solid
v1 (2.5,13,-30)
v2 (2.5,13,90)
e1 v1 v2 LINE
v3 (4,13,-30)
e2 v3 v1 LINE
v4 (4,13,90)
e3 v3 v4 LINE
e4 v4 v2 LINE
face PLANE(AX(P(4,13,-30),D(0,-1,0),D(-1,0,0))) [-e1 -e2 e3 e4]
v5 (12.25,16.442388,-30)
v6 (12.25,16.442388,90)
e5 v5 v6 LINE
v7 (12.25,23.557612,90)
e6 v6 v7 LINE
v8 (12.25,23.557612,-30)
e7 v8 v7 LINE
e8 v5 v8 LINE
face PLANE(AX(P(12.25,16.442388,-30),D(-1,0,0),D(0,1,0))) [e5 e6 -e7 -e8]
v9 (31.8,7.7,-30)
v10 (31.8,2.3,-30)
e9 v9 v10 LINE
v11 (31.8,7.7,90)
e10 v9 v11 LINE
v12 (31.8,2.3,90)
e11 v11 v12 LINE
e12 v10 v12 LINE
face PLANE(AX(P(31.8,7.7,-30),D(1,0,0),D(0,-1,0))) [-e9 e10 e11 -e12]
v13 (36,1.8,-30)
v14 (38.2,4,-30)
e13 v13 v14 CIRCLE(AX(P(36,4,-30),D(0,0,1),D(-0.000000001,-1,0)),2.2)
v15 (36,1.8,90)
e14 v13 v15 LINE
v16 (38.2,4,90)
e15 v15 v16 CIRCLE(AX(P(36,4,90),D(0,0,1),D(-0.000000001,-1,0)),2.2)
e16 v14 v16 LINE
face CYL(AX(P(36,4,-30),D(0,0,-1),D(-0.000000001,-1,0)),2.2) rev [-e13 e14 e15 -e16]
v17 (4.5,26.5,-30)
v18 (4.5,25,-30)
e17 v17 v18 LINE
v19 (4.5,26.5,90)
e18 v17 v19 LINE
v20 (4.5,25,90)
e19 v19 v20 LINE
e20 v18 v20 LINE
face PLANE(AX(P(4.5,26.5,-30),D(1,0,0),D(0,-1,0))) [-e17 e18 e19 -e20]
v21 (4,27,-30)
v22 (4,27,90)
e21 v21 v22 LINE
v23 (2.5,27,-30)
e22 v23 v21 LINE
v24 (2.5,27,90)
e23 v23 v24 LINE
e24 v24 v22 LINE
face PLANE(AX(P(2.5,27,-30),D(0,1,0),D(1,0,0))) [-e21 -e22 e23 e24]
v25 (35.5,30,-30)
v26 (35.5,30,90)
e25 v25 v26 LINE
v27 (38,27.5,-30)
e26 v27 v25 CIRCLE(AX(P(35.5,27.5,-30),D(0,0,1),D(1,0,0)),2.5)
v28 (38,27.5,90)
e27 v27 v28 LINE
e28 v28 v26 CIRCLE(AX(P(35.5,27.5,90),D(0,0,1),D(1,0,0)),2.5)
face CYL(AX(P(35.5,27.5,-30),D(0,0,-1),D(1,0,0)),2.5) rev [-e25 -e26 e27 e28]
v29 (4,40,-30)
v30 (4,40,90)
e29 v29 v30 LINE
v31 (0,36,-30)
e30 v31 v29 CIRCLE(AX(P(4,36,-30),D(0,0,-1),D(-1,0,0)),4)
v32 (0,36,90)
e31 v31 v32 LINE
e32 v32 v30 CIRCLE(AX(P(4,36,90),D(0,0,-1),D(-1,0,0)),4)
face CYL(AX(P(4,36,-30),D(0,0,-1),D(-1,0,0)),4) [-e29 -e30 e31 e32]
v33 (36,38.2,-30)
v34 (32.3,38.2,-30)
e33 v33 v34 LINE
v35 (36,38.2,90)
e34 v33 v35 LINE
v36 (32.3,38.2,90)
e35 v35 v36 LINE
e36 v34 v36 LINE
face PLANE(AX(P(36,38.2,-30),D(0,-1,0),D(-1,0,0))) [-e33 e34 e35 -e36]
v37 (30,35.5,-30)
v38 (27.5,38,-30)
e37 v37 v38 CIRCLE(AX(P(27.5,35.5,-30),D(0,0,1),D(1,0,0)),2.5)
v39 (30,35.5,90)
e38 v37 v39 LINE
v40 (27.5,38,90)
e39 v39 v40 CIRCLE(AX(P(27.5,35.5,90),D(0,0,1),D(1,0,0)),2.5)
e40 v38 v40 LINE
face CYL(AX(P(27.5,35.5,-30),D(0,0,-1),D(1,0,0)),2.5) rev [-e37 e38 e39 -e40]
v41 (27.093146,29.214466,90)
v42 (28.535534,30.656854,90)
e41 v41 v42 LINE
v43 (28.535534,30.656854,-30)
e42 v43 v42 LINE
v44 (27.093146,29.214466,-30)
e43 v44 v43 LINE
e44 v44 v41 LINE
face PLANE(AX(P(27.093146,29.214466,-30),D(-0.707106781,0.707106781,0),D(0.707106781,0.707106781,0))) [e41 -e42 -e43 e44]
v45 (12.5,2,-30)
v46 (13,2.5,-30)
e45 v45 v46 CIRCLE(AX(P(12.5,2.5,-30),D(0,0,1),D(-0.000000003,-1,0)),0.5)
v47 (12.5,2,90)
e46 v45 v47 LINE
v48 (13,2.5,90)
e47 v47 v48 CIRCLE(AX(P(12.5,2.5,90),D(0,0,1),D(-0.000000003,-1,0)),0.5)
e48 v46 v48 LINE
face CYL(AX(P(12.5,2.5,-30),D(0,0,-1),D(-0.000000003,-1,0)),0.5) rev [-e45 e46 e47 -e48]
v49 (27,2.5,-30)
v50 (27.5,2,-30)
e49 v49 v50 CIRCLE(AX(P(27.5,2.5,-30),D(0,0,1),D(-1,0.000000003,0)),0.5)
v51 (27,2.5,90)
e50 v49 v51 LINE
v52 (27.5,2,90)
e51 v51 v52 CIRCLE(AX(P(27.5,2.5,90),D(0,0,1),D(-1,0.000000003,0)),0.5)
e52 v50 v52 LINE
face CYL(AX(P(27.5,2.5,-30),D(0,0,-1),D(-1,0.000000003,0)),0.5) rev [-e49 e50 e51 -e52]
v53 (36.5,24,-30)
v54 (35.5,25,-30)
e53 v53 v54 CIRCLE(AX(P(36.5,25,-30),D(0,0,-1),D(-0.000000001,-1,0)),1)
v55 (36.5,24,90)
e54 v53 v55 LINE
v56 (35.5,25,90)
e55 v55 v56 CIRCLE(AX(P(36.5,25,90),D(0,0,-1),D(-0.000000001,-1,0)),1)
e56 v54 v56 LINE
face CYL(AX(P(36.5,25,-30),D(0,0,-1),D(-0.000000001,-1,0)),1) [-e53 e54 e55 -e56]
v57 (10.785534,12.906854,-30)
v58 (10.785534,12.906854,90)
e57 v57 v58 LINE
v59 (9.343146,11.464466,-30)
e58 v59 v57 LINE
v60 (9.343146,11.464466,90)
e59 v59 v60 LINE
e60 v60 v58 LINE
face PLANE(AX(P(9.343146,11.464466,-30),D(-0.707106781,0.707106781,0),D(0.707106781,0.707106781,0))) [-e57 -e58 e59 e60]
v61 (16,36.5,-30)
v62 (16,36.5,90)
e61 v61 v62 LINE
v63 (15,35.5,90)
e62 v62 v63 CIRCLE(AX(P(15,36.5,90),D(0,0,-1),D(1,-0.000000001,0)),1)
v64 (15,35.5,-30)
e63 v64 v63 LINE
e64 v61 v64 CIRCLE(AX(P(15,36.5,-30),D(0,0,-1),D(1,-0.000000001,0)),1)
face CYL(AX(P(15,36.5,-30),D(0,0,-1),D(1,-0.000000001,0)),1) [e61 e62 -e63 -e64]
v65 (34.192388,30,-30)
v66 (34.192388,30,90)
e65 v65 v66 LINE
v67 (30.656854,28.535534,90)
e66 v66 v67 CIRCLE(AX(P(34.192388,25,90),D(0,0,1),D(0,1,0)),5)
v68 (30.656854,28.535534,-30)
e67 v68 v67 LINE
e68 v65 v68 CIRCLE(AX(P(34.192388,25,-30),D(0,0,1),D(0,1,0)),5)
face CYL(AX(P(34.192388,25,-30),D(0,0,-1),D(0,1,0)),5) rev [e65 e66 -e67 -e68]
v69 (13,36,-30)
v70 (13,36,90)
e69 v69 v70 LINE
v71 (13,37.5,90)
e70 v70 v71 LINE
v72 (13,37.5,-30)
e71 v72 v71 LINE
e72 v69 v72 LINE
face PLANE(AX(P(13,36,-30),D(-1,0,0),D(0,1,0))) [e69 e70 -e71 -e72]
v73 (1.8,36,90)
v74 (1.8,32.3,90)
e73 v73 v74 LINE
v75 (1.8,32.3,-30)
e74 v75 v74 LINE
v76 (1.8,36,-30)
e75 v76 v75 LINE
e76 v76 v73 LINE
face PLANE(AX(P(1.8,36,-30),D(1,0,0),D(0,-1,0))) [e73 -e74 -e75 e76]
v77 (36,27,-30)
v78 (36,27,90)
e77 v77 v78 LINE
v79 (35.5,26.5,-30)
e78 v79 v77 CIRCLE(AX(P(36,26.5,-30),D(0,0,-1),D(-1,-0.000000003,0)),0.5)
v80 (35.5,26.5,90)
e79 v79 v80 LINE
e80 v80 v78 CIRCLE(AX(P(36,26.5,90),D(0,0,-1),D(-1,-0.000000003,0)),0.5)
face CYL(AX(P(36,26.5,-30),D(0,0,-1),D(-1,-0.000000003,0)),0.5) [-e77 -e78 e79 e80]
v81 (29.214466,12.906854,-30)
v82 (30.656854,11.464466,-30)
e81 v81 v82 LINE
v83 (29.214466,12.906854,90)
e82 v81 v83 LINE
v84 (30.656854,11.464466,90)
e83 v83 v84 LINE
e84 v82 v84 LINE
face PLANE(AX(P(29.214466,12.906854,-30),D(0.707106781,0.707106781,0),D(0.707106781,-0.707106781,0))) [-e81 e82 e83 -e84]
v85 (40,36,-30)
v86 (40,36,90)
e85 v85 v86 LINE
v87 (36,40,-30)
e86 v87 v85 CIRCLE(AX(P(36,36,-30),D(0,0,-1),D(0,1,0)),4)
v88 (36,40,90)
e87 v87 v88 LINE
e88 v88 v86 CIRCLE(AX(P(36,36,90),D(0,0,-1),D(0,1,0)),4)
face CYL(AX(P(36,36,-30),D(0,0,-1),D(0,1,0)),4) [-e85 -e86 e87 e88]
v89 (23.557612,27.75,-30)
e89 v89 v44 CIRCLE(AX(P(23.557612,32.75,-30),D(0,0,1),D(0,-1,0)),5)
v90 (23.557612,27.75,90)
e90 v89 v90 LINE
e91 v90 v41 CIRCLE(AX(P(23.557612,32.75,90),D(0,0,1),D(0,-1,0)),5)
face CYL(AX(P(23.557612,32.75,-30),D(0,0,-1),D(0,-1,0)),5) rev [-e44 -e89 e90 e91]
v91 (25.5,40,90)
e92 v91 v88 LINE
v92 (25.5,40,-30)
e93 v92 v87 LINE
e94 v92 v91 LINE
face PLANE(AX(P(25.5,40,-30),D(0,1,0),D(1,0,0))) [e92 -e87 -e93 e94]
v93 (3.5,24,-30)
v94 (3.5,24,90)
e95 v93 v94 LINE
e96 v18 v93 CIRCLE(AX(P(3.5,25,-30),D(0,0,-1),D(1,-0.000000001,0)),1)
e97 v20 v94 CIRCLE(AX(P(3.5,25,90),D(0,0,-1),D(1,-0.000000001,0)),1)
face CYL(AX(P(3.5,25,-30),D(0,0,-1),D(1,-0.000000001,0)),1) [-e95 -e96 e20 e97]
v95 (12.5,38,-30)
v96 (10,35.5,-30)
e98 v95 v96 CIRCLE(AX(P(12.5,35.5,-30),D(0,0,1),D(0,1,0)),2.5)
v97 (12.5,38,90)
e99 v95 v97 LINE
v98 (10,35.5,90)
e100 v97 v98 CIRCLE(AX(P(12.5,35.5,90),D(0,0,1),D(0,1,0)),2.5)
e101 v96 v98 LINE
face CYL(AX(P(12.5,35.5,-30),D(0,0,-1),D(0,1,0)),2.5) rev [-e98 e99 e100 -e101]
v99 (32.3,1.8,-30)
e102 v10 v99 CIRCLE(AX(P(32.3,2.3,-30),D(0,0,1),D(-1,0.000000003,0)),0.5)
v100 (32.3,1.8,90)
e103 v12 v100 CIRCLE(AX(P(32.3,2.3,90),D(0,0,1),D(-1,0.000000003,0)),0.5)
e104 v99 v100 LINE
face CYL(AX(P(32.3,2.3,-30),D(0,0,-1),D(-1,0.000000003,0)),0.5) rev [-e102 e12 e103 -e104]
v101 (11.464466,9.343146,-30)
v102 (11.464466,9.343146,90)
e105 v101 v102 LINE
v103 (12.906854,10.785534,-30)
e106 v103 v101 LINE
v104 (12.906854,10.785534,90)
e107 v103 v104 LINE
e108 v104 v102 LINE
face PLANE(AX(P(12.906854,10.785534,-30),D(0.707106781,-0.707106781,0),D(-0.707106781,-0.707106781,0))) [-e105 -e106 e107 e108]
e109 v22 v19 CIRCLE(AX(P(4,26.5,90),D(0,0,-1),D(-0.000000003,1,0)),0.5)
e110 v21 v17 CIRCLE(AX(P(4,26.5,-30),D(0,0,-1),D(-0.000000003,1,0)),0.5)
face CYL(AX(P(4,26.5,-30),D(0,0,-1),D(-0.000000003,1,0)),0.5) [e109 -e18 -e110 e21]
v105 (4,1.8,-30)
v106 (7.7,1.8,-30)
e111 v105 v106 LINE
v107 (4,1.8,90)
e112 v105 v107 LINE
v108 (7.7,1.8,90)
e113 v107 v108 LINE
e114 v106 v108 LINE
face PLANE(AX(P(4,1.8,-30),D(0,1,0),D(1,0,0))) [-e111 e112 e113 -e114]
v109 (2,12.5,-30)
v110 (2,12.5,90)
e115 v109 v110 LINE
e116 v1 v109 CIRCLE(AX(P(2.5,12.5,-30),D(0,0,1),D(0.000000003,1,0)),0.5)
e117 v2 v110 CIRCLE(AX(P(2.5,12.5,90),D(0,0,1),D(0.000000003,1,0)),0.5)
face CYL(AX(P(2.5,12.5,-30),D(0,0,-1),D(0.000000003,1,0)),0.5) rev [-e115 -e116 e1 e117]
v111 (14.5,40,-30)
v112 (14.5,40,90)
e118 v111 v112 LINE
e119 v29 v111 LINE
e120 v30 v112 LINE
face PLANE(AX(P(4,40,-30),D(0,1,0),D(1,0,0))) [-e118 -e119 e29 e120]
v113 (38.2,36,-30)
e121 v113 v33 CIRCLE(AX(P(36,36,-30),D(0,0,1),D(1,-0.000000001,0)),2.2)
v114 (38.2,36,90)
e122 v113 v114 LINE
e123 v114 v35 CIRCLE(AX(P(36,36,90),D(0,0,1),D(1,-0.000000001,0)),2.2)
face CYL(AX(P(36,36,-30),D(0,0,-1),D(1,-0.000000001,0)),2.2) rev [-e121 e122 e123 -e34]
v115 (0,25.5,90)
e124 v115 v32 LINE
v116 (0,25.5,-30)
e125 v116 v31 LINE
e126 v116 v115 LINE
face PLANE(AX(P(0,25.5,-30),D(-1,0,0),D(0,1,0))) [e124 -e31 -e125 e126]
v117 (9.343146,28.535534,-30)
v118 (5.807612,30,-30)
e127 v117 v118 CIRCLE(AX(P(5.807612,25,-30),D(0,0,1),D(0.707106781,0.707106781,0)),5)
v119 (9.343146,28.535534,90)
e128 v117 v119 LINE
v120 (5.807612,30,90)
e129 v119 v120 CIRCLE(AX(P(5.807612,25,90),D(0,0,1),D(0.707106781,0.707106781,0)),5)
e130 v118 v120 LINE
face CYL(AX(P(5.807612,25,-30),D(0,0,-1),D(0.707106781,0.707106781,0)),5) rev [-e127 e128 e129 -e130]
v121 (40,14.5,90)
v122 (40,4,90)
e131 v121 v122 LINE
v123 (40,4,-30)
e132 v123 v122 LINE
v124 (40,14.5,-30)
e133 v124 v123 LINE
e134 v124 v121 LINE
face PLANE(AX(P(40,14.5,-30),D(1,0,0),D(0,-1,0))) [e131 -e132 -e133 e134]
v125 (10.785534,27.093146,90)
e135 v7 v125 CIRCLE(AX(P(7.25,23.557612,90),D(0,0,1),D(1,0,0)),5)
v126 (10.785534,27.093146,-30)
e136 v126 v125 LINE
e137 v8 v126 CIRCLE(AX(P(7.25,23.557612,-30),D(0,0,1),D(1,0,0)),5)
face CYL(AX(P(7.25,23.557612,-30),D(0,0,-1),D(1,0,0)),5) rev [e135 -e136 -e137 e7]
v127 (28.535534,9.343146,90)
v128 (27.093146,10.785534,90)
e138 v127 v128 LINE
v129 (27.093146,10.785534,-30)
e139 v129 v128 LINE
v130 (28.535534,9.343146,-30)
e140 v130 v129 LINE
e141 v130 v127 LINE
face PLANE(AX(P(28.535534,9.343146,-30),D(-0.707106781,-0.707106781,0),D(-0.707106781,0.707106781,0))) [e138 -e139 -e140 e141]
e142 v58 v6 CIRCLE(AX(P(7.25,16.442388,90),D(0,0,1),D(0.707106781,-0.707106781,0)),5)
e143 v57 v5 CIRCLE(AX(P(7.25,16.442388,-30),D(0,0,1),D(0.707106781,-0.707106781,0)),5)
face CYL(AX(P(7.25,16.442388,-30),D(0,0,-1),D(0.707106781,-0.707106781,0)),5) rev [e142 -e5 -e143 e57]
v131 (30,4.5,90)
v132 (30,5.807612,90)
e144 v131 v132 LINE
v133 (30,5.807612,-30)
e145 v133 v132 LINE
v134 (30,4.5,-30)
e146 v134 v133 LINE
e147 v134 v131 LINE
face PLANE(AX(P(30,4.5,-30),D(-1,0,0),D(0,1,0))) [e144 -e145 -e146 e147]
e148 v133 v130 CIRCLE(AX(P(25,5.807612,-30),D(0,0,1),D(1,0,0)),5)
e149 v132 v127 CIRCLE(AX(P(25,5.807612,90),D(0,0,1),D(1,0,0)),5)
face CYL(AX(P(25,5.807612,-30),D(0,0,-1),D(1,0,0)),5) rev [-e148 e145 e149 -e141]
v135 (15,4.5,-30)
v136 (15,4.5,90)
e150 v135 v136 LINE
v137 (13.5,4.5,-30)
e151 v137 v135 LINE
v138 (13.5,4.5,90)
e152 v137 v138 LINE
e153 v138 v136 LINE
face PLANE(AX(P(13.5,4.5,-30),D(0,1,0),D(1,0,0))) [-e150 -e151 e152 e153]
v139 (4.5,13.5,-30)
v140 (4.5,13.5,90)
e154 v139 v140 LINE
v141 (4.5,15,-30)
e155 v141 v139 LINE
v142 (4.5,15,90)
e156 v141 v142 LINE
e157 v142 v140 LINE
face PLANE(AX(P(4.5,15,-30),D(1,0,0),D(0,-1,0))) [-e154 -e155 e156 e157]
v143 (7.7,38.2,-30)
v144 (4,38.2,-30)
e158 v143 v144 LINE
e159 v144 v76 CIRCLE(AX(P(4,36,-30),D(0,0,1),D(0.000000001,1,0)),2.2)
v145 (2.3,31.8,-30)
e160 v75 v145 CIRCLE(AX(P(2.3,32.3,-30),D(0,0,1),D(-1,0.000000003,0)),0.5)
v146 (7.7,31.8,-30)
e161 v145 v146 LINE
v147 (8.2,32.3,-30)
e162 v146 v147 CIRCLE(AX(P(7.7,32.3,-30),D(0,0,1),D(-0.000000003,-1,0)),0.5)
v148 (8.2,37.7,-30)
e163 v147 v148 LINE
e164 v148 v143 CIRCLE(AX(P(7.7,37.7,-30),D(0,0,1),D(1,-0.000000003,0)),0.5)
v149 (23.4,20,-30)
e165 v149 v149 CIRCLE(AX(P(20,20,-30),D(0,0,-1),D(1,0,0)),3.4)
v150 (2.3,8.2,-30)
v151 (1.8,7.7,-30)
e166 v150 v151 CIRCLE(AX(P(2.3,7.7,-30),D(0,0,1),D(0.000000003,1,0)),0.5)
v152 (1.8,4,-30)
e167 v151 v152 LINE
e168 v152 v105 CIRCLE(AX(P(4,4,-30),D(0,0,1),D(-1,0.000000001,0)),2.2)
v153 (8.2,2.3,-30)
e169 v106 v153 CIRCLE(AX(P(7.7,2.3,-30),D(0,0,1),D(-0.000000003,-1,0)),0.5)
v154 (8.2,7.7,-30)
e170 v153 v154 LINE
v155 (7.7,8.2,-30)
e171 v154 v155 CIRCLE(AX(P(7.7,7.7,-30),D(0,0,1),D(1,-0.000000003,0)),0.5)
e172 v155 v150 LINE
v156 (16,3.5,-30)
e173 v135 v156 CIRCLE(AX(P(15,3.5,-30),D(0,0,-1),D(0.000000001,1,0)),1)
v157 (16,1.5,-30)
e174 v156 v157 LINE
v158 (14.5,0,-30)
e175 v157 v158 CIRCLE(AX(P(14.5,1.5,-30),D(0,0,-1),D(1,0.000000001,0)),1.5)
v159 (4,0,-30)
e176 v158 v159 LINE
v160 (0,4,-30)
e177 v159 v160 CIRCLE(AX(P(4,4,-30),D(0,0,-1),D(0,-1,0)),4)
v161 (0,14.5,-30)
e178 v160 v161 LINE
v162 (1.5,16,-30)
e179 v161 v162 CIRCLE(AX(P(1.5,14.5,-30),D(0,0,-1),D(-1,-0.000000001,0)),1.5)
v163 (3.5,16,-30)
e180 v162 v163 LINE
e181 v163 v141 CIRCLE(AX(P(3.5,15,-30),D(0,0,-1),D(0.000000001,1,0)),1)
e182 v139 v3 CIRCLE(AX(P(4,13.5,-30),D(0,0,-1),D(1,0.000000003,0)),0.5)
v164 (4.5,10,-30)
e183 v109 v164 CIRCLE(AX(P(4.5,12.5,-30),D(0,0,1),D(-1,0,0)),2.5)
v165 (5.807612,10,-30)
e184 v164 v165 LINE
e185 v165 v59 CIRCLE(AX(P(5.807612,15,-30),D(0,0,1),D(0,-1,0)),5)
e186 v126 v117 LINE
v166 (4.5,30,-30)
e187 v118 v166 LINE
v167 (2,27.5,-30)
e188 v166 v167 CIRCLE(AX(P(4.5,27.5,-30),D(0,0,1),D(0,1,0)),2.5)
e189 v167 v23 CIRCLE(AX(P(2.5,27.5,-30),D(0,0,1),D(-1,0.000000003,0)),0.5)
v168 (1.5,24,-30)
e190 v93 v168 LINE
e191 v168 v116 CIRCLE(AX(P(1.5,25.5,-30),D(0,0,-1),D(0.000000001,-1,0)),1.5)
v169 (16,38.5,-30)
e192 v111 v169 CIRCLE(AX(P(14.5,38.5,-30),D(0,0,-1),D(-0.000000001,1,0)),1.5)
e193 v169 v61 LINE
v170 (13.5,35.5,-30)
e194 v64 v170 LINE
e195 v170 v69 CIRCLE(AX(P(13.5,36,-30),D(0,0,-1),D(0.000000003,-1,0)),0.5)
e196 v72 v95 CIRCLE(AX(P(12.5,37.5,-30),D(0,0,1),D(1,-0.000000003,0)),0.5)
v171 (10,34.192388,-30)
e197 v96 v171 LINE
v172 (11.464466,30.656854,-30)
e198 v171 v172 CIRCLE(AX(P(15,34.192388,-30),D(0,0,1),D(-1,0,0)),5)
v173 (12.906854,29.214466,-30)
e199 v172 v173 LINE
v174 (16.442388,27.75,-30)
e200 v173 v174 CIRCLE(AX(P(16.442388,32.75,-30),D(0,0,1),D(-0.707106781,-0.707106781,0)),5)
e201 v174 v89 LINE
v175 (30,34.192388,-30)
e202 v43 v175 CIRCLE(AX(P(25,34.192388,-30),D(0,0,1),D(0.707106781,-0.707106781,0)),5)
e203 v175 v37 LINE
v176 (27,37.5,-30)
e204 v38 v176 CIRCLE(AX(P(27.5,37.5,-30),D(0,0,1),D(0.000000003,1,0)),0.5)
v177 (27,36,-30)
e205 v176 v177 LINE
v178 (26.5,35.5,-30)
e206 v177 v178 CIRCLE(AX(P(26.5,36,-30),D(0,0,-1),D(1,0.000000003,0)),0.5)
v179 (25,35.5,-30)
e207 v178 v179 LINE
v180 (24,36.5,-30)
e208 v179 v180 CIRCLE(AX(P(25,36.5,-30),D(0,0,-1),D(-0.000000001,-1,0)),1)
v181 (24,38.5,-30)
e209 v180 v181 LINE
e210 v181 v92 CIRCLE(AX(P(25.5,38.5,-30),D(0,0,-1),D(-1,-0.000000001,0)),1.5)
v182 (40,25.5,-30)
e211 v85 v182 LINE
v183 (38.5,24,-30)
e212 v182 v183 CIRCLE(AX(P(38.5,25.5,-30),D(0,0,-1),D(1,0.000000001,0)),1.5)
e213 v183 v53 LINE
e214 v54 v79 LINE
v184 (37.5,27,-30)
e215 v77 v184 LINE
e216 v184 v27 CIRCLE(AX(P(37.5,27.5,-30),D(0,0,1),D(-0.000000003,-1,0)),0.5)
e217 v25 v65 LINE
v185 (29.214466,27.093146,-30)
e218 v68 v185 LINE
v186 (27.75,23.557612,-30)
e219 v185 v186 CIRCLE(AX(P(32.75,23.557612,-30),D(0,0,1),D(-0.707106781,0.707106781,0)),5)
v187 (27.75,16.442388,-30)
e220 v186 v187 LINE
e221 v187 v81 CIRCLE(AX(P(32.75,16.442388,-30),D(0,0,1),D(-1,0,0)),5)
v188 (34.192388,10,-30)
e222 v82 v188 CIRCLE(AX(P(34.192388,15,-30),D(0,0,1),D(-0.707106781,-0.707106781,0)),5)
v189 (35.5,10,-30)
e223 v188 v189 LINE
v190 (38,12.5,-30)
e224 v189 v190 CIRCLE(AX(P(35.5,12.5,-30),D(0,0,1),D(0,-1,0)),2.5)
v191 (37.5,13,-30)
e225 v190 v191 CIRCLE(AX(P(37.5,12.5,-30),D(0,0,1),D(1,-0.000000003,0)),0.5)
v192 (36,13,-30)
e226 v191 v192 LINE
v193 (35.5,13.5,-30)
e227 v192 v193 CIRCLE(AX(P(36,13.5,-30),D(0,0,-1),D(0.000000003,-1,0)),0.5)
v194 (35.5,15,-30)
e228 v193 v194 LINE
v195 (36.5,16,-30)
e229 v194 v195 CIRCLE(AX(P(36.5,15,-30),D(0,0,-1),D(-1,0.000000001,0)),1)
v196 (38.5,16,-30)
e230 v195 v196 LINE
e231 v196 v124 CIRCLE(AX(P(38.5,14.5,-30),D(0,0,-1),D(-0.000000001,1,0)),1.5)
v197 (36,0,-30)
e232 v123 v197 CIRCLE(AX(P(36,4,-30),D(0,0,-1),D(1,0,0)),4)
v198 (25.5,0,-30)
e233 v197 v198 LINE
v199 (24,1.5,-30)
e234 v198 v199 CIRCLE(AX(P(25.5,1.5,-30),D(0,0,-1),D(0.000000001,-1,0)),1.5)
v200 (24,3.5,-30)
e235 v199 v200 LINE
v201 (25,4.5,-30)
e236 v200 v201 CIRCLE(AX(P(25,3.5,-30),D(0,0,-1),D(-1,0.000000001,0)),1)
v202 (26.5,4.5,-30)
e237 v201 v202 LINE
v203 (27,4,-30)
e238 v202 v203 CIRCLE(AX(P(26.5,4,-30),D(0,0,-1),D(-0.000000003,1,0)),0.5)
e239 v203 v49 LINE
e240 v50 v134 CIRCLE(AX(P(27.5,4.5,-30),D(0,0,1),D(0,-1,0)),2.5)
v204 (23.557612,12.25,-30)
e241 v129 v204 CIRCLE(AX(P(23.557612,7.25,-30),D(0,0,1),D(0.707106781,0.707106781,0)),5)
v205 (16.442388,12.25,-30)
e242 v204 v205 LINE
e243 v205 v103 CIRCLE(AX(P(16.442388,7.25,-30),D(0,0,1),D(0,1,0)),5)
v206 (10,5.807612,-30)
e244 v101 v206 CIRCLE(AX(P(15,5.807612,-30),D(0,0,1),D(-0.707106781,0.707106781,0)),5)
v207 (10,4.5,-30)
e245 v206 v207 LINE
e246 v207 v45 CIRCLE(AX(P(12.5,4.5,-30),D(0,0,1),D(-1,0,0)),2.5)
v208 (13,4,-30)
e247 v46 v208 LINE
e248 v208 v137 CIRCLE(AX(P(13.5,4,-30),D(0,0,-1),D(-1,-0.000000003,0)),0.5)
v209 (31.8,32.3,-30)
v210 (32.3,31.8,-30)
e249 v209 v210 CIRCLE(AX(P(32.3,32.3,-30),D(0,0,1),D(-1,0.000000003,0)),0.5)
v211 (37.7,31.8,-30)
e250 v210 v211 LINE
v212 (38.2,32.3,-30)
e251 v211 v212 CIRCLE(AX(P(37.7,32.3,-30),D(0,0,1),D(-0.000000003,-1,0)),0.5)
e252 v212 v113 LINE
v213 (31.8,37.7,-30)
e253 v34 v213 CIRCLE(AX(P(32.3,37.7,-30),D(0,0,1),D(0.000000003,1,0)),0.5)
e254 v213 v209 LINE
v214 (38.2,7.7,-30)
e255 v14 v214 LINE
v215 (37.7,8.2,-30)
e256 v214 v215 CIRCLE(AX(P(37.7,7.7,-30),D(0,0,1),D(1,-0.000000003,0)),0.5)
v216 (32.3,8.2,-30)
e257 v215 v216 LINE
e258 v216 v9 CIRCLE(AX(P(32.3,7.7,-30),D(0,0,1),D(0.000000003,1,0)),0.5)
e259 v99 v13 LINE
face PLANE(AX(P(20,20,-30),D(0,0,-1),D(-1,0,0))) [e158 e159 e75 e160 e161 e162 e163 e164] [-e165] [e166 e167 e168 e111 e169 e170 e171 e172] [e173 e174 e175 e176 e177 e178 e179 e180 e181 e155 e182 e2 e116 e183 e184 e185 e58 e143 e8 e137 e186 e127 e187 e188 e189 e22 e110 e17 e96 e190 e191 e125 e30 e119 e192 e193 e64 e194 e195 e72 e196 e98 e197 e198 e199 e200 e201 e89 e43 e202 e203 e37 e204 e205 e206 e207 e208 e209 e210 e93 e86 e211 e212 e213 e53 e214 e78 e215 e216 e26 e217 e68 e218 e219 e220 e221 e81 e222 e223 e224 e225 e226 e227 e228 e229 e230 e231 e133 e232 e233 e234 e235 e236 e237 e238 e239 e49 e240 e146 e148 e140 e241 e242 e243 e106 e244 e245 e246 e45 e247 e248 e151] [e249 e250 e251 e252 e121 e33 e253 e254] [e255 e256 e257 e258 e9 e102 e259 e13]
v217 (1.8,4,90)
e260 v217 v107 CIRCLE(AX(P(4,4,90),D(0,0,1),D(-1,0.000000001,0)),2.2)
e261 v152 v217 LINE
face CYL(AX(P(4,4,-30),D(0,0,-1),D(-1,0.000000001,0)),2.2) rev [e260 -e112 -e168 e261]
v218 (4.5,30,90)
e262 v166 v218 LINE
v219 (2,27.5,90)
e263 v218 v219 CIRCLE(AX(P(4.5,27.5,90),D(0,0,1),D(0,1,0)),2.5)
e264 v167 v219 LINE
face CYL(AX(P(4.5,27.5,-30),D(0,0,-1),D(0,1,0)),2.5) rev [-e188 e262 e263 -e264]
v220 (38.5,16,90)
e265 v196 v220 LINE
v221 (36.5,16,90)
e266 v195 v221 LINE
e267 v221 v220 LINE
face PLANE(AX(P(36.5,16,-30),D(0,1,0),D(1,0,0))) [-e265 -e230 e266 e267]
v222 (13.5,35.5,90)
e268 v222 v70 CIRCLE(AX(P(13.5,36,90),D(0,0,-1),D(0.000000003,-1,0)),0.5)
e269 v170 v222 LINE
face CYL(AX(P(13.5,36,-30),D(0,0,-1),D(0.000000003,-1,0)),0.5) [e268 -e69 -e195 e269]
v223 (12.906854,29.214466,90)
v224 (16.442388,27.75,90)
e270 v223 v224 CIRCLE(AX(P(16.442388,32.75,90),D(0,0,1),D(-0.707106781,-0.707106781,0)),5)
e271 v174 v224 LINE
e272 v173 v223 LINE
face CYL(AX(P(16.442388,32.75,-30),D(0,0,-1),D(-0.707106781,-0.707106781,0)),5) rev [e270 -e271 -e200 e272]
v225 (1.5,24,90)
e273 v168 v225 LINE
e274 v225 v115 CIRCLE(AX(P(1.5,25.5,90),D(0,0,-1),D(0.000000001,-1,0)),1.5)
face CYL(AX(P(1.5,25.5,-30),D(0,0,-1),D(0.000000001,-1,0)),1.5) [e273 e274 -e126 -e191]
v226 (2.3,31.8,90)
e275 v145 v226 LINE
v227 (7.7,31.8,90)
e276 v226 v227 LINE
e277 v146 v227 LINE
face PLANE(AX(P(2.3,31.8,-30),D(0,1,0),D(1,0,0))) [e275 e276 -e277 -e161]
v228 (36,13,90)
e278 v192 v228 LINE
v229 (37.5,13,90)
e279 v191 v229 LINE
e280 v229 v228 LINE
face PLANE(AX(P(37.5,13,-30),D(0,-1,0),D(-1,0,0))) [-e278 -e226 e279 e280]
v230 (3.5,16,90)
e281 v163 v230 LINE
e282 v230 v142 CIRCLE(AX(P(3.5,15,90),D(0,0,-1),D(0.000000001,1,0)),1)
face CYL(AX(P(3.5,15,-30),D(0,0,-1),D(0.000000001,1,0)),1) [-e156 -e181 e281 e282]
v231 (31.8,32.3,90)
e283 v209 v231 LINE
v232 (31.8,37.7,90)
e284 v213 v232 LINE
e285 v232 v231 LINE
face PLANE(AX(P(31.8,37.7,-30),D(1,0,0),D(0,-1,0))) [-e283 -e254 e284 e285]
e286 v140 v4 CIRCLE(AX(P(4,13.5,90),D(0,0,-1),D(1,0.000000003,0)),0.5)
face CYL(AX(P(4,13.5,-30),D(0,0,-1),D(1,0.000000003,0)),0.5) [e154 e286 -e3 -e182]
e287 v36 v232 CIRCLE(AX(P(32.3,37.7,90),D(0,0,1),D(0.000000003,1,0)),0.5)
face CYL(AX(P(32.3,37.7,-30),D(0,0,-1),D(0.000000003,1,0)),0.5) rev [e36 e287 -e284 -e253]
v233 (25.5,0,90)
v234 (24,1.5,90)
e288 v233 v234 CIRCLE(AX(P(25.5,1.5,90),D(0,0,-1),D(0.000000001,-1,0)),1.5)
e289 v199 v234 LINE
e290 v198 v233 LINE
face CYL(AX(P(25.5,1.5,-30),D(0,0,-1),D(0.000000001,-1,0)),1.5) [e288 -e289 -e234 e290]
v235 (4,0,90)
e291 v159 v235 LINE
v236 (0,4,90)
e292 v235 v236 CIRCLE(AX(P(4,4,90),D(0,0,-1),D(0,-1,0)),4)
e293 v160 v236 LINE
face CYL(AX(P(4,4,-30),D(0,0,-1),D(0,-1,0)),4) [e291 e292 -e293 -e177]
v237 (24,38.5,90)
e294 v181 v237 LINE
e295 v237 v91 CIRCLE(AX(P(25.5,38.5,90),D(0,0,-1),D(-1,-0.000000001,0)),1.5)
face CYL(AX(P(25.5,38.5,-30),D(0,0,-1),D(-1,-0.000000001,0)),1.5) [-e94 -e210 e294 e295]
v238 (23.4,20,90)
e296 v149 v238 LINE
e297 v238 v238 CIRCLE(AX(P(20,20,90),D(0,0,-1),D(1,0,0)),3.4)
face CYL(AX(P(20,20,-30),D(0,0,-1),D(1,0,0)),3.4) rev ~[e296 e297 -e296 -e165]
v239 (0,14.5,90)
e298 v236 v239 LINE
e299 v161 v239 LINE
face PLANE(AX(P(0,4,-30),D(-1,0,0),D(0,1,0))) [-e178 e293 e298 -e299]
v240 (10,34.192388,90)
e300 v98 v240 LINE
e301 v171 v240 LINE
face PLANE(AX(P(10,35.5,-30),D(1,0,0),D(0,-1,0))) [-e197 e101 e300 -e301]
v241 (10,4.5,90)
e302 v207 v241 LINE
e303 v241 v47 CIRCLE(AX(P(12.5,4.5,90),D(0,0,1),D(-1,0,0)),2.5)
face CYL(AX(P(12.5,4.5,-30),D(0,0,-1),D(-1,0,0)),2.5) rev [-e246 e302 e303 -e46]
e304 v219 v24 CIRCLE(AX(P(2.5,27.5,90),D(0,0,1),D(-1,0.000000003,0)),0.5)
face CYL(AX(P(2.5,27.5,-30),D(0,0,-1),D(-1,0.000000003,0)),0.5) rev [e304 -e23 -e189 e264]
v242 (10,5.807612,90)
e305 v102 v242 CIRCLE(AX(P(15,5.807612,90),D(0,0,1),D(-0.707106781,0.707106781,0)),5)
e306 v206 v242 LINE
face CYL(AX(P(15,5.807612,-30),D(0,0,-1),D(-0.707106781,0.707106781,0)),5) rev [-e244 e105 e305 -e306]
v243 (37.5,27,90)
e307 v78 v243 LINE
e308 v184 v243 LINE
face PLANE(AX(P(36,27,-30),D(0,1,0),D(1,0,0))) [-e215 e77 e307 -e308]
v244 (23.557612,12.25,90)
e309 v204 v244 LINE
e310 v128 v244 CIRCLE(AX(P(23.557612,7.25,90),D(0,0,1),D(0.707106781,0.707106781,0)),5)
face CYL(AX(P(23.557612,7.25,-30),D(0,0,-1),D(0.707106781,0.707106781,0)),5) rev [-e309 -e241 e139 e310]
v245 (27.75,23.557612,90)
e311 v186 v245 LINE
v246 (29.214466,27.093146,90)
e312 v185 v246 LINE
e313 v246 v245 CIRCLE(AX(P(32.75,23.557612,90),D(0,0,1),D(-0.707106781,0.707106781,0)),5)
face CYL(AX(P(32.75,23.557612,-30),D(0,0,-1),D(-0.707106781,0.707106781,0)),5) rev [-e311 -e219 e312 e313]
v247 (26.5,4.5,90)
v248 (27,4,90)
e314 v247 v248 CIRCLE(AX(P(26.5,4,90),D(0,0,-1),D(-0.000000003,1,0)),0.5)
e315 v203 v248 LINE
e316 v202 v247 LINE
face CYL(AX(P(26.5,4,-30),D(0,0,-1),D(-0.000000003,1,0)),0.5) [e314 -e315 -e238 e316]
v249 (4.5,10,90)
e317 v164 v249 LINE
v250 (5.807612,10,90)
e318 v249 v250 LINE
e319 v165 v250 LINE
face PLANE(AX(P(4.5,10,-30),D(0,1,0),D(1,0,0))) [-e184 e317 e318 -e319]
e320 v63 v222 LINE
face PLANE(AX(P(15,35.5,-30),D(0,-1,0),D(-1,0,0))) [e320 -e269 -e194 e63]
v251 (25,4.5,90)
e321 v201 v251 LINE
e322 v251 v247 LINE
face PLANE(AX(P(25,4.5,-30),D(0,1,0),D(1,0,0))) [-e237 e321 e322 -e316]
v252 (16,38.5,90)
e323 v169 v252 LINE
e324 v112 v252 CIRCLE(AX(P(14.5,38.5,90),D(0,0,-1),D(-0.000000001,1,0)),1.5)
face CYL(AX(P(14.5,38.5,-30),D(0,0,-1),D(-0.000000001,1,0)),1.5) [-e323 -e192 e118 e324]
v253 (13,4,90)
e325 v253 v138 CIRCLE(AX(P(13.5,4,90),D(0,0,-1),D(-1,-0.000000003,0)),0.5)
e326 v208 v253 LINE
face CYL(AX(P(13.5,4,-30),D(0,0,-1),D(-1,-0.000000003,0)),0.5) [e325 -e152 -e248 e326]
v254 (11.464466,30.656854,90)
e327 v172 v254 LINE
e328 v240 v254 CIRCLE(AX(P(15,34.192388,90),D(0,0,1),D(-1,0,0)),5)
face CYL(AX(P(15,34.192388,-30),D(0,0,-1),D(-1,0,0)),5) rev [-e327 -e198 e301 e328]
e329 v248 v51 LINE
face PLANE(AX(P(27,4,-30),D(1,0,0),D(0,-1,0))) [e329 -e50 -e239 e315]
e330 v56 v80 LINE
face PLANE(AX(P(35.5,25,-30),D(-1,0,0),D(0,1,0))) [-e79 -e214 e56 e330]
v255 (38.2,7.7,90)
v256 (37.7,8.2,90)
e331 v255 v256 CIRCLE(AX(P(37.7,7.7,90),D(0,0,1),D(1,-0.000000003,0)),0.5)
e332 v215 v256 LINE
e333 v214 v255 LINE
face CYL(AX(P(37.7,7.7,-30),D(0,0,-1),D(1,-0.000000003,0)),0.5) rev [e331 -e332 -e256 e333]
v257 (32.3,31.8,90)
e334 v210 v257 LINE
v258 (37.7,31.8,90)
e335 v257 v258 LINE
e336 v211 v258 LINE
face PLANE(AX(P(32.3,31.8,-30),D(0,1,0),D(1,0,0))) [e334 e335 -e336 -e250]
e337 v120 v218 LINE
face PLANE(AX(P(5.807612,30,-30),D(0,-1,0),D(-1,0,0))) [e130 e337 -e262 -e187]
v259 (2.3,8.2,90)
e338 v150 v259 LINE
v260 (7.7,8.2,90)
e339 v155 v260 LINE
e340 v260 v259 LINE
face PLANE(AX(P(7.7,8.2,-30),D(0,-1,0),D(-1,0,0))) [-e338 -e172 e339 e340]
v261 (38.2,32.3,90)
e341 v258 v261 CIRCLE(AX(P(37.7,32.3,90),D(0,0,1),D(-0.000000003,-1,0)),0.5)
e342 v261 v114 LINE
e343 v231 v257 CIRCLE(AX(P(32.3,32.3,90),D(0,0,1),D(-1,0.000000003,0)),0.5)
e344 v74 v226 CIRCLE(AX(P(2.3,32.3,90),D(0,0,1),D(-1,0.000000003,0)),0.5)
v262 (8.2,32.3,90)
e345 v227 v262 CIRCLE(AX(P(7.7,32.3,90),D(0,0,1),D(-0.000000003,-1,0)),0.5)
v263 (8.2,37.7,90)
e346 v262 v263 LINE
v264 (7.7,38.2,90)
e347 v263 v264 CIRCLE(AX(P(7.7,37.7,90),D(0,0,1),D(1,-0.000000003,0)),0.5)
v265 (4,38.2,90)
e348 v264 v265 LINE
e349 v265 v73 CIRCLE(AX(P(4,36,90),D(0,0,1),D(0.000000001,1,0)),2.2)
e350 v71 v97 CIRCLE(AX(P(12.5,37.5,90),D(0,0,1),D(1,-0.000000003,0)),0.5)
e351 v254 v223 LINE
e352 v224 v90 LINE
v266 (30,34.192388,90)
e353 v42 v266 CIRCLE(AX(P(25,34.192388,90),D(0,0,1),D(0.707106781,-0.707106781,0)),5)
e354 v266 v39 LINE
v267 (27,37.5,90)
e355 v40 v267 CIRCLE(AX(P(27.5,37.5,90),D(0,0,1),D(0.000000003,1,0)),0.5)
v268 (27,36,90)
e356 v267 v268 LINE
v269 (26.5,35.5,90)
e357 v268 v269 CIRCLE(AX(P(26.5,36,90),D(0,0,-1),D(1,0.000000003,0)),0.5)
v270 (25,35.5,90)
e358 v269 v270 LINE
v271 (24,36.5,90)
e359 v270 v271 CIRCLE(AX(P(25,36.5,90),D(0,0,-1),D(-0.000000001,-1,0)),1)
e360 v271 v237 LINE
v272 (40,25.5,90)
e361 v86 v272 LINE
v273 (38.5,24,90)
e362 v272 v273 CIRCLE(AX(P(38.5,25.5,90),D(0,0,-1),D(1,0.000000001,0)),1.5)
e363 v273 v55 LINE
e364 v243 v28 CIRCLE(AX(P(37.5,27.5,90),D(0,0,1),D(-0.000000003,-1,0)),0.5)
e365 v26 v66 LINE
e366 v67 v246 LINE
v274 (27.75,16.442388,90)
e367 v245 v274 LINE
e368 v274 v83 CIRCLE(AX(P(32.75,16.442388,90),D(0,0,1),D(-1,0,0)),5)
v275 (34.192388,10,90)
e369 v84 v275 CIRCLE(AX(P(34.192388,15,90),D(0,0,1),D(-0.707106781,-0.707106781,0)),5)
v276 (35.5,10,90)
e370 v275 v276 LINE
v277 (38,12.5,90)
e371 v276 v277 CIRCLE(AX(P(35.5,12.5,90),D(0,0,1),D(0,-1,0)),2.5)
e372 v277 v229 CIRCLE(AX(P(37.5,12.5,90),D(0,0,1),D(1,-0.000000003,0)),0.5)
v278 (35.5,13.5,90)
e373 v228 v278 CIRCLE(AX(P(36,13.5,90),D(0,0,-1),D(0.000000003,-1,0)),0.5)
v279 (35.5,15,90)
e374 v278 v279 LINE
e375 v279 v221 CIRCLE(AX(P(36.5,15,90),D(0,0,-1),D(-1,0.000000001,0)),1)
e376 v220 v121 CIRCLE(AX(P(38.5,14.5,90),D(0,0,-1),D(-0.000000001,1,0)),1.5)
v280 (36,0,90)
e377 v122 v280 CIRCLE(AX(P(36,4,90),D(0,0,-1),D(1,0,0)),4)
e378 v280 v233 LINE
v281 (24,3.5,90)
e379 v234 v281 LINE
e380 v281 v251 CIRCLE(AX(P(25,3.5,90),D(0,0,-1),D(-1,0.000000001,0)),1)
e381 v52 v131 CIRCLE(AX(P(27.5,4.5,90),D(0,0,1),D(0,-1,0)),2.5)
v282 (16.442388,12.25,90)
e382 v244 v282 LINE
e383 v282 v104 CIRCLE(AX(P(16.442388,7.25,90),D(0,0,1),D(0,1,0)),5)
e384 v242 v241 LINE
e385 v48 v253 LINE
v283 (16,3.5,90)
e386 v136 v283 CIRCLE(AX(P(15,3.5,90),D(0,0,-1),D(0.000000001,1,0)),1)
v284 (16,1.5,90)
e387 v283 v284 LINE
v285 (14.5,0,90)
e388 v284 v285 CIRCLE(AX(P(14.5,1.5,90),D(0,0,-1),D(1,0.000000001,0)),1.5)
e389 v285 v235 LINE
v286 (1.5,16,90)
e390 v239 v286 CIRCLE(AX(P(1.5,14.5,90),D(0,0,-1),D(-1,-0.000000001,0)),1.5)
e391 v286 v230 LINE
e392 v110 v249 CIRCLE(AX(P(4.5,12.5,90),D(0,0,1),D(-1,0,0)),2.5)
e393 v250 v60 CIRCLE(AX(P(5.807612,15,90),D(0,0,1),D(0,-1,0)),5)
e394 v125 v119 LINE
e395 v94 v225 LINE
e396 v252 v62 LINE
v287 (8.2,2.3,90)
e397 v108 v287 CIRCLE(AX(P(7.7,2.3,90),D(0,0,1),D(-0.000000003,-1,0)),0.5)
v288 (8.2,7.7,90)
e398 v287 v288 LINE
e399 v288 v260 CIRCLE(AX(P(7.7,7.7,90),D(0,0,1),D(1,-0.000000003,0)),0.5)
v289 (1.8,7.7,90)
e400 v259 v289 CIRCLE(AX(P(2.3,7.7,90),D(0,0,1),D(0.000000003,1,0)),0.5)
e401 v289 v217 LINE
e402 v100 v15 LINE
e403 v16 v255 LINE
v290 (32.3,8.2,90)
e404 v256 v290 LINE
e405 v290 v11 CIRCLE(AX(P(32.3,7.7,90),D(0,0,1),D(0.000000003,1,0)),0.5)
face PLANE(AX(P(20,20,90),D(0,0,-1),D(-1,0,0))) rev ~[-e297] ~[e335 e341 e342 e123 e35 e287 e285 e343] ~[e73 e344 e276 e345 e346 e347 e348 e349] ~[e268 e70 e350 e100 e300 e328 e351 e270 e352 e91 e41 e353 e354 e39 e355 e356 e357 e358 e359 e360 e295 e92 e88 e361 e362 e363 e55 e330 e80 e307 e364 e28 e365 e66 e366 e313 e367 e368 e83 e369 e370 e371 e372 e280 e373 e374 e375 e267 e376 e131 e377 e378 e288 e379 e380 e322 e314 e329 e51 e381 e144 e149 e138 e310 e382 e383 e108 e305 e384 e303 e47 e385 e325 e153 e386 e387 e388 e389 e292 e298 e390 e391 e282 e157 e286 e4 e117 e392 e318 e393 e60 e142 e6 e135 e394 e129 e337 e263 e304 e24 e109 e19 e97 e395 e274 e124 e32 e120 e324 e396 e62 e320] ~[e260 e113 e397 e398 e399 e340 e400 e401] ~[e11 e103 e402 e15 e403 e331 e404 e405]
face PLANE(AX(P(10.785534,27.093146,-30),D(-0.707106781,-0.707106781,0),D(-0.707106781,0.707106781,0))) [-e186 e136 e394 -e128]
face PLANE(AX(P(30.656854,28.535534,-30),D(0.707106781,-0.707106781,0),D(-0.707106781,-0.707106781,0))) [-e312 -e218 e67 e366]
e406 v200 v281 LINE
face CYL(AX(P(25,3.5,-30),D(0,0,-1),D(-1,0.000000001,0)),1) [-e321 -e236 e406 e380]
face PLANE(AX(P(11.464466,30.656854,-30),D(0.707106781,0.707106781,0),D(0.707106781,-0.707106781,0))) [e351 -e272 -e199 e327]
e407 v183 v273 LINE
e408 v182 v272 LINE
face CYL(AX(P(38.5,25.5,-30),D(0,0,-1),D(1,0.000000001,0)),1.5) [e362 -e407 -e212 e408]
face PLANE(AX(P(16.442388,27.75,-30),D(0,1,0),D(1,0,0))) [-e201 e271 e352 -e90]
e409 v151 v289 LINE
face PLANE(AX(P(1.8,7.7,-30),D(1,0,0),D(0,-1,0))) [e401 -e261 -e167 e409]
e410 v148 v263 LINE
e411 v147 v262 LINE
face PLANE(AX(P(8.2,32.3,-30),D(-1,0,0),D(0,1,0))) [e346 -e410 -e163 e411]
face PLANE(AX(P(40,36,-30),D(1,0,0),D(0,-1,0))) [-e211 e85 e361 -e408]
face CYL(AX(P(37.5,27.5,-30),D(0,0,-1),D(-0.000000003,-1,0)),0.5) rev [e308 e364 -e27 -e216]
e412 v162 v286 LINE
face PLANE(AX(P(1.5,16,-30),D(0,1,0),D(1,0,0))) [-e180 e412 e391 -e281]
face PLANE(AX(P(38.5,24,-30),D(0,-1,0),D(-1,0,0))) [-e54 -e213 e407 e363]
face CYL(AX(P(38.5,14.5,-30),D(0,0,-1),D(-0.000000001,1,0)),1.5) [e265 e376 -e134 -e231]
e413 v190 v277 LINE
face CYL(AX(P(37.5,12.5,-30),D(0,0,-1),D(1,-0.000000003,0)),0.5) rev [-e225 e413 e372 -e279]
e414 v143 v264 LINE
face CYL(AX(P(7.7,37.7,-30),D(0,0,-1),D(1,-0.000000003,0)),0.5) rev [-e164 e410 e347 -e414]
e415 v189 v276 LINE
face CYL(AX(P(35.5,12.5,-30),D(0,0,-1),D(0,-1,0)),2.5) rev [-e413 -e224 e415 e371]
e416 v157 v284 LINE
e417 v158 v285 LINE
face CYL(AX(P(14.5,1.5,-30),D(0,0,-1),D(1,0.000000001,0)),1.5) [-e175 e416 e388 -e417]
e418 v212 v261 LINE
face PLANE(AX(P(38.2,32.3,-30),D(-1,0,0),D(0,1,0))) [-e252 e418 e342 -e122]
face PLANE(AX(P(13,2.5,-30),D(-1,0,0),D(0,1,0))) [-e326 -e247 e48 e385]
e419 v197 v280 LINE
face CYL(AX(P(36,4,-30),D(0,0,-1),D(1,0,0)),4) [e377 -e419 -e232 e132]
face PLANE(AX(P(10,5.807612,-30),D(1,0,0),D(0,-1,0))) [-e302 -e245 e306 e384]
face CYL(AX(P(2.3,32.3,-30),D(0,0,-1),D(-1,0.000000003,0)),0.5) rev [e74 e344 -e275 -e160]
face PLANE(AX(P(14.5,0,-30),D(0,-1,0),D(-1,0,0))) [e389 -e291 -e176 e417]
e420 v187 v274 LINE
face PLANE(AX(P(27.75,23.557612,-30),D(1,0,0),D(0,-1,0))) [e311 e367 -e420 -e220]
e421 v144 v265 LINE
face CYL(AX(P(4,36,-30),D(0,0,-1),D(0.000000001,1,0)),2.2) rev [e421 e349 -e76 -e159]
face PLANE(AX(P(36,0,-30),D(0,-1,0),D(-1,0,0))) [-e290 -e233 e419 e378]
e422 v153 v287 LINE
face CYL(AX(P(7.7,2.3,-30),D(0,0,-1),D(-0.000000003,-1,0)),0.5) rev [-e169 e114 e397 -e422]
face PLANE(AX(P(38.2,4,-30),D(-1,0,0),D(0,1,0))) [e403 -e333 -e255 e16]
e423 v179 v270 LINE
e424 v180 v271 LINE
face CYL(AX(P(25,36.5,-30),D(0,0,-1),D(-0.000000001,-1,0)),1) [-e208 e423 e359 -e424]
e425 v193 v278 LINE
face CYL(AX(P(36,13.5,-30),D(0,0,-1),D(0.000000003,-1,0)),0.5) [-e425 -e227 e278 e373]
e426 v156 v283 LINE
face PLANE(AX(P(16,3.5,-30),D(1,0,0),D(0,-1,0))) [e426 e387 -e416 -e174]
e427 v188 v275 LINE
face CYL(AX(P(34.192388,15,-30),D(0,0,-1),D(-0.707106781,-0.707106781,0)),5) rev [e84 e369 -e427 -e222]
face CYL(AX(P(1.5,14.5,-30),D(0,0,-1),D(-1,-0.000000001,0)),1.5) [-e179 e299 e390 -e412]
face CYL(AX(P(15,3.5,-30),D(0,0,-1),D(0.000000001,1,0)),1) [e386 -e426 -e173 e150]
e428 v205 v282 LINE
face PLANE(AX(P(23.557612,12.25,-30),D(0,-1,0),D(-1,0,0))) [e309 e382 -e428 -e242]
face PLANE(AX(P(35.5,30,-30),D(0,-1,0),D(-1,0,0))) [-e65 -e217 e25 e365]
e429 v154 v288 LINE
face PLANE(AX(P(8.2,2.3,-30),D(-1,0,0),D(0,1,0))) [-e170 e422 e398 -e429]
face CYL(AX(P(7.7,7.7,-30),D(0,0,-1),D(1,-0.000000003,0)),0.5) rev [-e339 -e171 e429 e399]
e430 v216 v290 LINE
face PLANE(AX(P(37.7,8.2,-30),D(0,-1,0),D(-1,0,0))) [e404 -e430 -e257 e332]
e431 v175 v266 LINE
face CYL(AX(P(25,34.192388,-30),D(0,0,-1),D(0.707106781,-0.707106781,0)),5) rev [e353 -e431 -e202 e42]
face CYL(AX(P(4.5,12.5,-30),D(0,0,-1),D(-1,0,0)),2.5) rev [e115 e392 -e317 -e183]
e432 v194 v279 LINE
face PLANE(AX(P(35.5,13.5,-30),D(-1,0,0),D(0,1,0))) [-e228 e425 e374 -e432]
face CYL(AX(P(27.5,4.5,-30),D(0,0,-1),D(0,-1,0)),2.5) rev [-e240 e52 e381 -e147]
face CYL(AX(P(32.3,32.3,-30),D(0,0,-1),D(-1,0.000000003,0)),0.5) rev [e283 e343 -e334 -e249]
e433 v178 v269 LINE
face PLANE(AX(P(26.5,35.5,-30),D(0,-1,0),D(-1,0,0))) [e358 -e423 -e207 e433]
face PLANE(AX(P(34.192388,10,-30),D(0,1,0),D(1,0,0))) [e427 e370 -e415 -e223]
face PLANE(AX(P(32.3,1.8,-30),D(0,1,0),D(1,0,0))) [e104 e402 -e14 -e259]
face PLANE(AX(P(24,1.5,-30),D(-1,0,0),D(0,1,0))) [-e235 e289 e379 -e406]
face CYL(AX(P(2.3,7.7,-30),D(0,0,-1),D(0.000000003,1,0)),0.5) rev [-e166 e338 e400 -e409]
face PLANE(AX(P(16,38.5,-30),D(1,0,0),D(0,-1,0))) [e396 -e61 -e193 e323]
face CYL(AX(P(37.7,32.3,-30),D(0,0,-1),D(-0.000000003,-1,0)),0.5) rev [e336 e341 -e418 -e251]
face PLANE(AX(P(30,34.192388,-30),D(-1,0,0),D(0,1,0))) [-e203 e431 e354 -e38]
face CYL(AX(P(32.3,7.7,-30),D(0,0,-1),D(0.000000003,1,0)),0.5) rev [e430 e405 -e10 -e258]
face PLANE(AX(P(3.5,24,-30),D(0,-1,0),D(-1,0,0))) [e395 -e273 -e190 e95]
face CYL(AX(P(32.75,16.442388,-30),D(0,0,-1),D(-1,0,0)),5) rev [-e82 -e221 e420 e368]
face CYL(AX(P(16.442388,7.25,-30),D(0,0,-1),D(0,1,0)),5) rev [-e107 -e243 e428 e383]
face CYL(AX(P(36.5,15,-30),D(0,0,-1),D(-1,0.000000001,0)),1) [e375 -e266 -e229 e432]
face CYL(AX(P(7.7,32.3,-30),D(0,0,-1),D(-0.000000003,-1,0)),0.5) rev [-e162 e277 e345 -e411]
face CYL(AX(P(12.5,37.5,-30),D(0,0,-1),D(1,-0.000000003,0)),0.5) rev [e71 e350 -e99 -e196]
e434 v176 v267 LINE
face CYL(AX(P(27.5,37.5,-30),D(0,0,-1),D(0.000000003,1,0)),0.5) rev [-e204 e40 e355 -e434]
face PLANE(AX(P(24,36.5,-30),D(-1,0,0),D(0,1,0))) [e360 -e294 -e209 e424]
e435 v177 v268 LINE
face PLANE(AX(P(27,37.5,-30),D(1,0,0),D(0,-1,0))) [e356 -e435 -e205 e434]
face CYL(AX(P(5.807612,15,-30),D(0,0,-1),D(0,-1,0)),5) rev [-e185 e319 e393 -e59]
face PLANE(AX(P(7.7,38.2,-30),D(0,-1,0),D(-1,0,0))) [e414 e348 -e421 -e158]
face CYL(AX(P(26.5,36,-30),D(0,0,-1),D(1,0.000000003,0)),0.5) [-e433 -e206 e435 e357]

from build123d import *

# Parameters (mm, degrees)
ESQUISSE1_R        = 3.4
BOSS_EXTRU_1_DEPTH = 120


with BuildPart() as part:
    # Esquisse1 → Boss.-Extru.1 (new body)
    with BuildSketch(Plane(origin=(0, 0, -30), x_dir=(-1, 0, 0), z_dir=(0, 0, -1))):
        with BuildLine():
            Line((-4.5, 15), (-4.5, 13.5))
            ThreePointArc((-4.5, 13.5), (-4.353553391, 13.146446609), (-4, 13))
            Line((-4, 13), (-2.5, 13))
            ThreePointArc((-2.5, 13), (-2.146446609, 12.853553391), (-2, 12.5))
            ThreePointArc((-2, 12.5), (-2.732233047, 10.732233047), (-4.5, 10))
            Line((-4.5, 10), (-5.807611845, 10))
            ThreePointArc((-5.807611845, 10), (-7.721029006, 10.380602337), (-9.343145751, 11.464466094))
            Line((-9.343145751, 11.464466094), (-10.785533906, 12.906854249))
            ThreePointArc((-10.785533906, 12.906854249), (-11.869397663, 14.528970994), (-12.25, 16.442388155))
            Line((-12.25, 16.442388155), (-12.25, 23.557611845))
            ThreePointArc((-12.25, 23.557611845), (-11.869397663, 25.471029006), (-10.785533906, 27.093145751))
            Line((-10.785533906, 27.093145751), (-9.343145751, 28.535533906))
            ThreePointArc((-9.343145751, 28.535533906), (-7.721029006, 29.619397663), (-5.807611845, 30))
            Line((-5.807611845, 30), (-4.5, 30))
            ThreePointArc((-4.5, 30), (-2.732233047, 29.267766953), (-2, 27.5))
            ThreePointArc((-2, 27.5), (-2.146446609, 27.146446609), (-2.5, 27))
            Line((-2.5, 27), (-4, 27))
            ThreePointArc((-4, 27), (-4.353553391, 26.853553391), (-4.5, 26.5))
            Line((-4.5, 26.5), (-4.5, 25))
            ThreePointArc((-4.5, 25), (-4.207106781, 24.292893219), (-3.5, 24))
            Line((-3.5, 24), (-1.5, 24))
            ThreePointArc((-1.5, 24), (-0.439339828, 24.439339828), (0, 25.5))
            Line((0, 25.5), (0, 36))
            ThreePointArc((0, 36), (-1.171572875, 38.828427125), (-4, 40))
            Line((-4, 40), (-14.5, 40))
            ThreePointArc((-14.5, 40), (-15.560660172, 39.560660172), (-16, 38.5))
            Line((-16, 38.5), (-16, 36.5))
            ThreePointArc((-16, 36.5), (-15.707106781, 35.792893219), (-15, 35.5))
            Line((-15, 35.5), (-13.5, 35.5))
            ThreePointArc((-13.5, 35.5), (-13.146446609, 35.646446609), (-13, 36))
            Line((-13, 36), (-13, 37.5))
            ThreePointArc((-13, 37.5), (-12.853553391, 37.853553391), (-12.5, 38))
            ThreePointArc((-12.5, 38), (-10.732233047, 37.267766953), (-10, 35.5))
            Line((-10, 35.5), (-10, 34.192388155))
            ThreePointArc((-10, 34.192388155), (-10.380602337, 32.278970994), (-11.464466094, 30.656854249))
            Line((-11.464466094, 30.656854249), (-12.906854249, 29.214466094))
            ThreePointArc((-12.906854249, 29.214466094), (-14.528970994, 28.130602337), (-16.442388155, 27.75))
            Line((-16.442388155, 27.75), (-23.557611845, 27.75))
            ThreePointArc((-23.557611845, 27.75), (-25.471029006, 28.130602337), (-27.093145751, 29.214466094))
            Line((-27.093145751, 29.214466094), (-28.535533906, 30.656854249))
            ThreePointArc((-28.535533906, 30.656854249), (-29.619397663, 32.278970994), (-30, 34.192388155))
            Line((-30, 34.192388155), (-30, 35.5))
            ThreePointArc((-30, 35.5), (-29.267766953, 37.267766953), (-27.5, 38))
            ThreePointArc((-27.5, 38), (-27.146446609, 37.853553391), (-27, 37.5))
            Line((-27, 37.5), (-27, 36))
            ThreePointArc((-27, 36), (-26.853553391, 35.646446609), (-26.5, 35.5))
            Line((-26.5, 35.5), (-25, 35.5))
            ThreePointArc((-25, 35.5), (-24.292893219, 35.792893219), (-24, 36.5))
            Line((-24, 36.5), (-24, 38.5))
            ThreePointArc((-24, 38.5), (-24.439339828, 39.560660172), (-25.5, 40))
            Line((-25.5, 40), (-36, 40))
            ThreePointArc((-36, 40), (-38.828427125, 38.828427125), (-40, 36))
            Line((-40, 36), (-40, 25.5))
            ThreePointArc((-40, 25.5), (-39.560660172, 24.439339828), (-38.5, 24))
            Line((-38.5, 24), (-36.5, 24))
            ThreePointArc((-36.5, 24), (-35.792893219, 24.292893219), (-35.5, 25))
            Line((-35.5, 25), (-35.5, 26.5))
            ThreePointArc((-35.5, 26.5), (-35.646446609, 26.853553391), (-36, 27))
            Line((-36, 27), (-37.5, 27))
            ThreePointArc((-37.5, 27), (-37.853553391, 27.146446609), (-38, 27.5))
            ThreePointArc((-38, 27.5), (-37.267766953, 29.267766953), (-35.5, 30))
            Line((-35.5, 30), (-34.192388155, 30))
            ThreePointArc((-34.192388155, 30), (-32.278970994, 29.619397663), (-30.656854249, 28.535533906))
            Line((-30.656854249, 28.535533906), (-29.214466094, 27.093145751))
            ThreePointArc((-29.214466094, 27.093145751), (-28.130602337, 25.471029006), (-27.75, 23.557611845))
            Line((-27.75, 23.557611845), (-27.75, 16.442388155))
            ThreePointArc((-27.75, 16.442388155), (-28.130602337, 14.528970994), (-29.214466094, 12.906854249))
            Line((-29.214466094, 12.906854249), (-30.656854249, 11.464466094))
            ThreePointArc((-30.656854249, 11.464466094), (-32.278970994, 10.380602337), (-34.192388155, 10))
            Line((-34.192388155, 10), (-35.5, 10))
            ThreePointArc((-35.5, 10), (-37.267766953, 10.732233047), (-38, 12.5))
            ThreePointArc((-38, 12.5), (-37.853553391, 12.853553391), (-37.5, 13))
            Line((-37.5, 13), (-36, 13))
            ThreePointArc((-36, 13), (-35.646446609, 13.146446609), (-35.5, 13.5))
            Line((-35.5, 13.5), (-35.5, 15))
            ThreePointArc((-35.5, 15), (-35.792893219, 15.707106781), (-36.5, 16))
            Line((-36.5, 16), (-38.5, 16))
            ThreePointArc((-38.5, 16), (-39.560660172, 15.560660172), (-40, 14.5))
            Line((-40, 14.5), (-40, 4))
            ThreePointArc((-40, 4), (-38.828427125, 1.171572875), (-36, 0))
            Line((-36, 0), (-25.5, 0))
            ThreePointArc((-25.5, 0), (-24.439339828, 0.439339828), (-24, 1.5))
            Line((-24, 1.5), (-24, 3.5))
            ThreePointArc((-24, 3.5), (-24.292893219, 4.207106781), (-25, 4.5))
            Line((-25, 4.5), (-26.5, 4.5))
            ThreePointArc((-26.5, 4.5), (-26.853553391, 4.353553391), (-27, 4))
            Line((-27, 4), (-27, 2.5))
            ThreePointArc((-27, 2.5), (-27.146446609, 2.146446609), (-27.5, 2))
            ThreePointArc((-27.5, 2), (-29.267766953, 2.732233047), (-30, 4.5))
            Line((-30, 4.5), (-30, 5.807611845))
            ThreePointArc((-30, 5.807611845), (-29.619397663, 7.721029006), (-28.535533906, 9.343145751))
            Line((-28.535533906, 9.343145751), (-27.093145751, 10.785533906))
            ThreePointArc((-27.093145751, 10.785533906), (-25.471029006, 11.869397663), (-23.557611845, 12.25))
            Line((-23.557611845, 12.25), (-16.442388155, 12.25))
            ThreePointArc((-16.442388155, 12.25), (-14.528970994, 11.869397663), (-12.906854249, 10.785533906))
            Line((-12.906854249, 10.785533906), (-11.464466094, 9.343145751))
            ThreePointArc((-11.464466094, 9.343145751), (-10.380602337, 7.721029006), (-10, 5.807611845))
            Line((-10, 5.807611845), (-10, 4.5))
            ThreePointArc((-10, 4.5), (-10.732233047, 2.732233047), (-12.5, 2))
            ThreePointArc((-12.5, 2), (-12.853553391, 2.146446609), (-13, 2.5))
            Line((-13, 2.5), (-13, 4))
            ThreePointArc((-13, 4), (-13.146446609, 4.353553391), (-13.5, 4.5))
            Line((-13.5, 4.5), (-15, 4.5))
            ThreePointArc((-15, 4.5), (-15.707106781, 4.207106781), (-16, 3.5))
            Line((-16, 3.5), (-16, 1.5))
            ThreePointArc((-16, 1.5), (-15.560660172, 0.439339828), (-14.5, 0))
            Line((-14.5, 0), (-4, 0))
            ThreePointArc((-4, 0), (-1.171572875, 1.171572875), (0, 4))
            Line((0, 4), (0, 14.5))
            ThreePointArc((0, 14.5), (-0.439339828, 15.560660172), (-1.5, 16))
            Line((-1.5, 16), (-3.5, 16))
            ThreePointArc((-3.5, 16), (-4.207106781, 15.707106781), (-4.5, 15))
        make_face()
        with Locations(Location((-20, 20, 0), (0, 0, 180))):
            Circle(ESQUISSE1_R, mode=Mode.SUBTRACT)
        with BuildLine():
            Line((-4, 1.8), (-7.7, 1.8))
            ThreePointArc((-7.7, 1.8), (-8.053553391, 1.946446609), (-8.2, 2.3))
            Line((-8.2, 2.3), (-8.2, 7.7))
            ThreePointArc((-8.2, 7.7), (-8.053553391, 8.053553391), (-7.7, 8.2))
            Line((-7.7, 8.2), (-2.3, 8.2))
            ThreePointArc((-2.3, 8.2), (-1.946446609, 8.053553391), (-1.8, 7.7))
            Line((-1.8, 7.7), (-1.8, 4))
            ThreePointArc((-1.8, 4), (-2.444365081, 2.444365081), (-4, 1.8))
        make_face(mode=Mode.SUBTRACT)
        with BuildLine():
            Line((-38.2, 4), (-38.2, 7.7))
            ThreePointArc((-38.2, 7.7), (-38.053553391, 8.053553391), (-37.7, 8.2))
            Line((-37.7, 8.2), (-32.3, 8.2))
            ThreePointArc((-32.3, 8.2), (-31.946446609, 8.053553391), (-31.8, 7.7))
            Line((-31.8, 7.7), (-31.8, 2.3))
            ThreePointArc((-31.8, 2.3), (-31.946446609, 1.946446609), (-32.3, 1.8))
            Line((-32.3, 1.8), (-36, 1.8))
            ThreePointArc((-36, 1.8), (-37.555634919, 2.444365081), (-38.2, 4))
        make_face(mode=Mode.SUBTRACT)
        with BuildLine():
            Line((-36, 38.2), (-32.3, 38.2))
            ThreePointArc((-32.3, 38.2), (-31.946446609, 38.053553391), (-31.8, 37.7))
            Line((-31.8, 37.7), (-31.8, 32.3))
            ThreePointArc((-31.8, 32.3), (-31.946446609, 31.946446609), (-32.3, 31.8))
            Line((-32.3, 31.8), (-37.7, 31.8))
            ThreePointArc((-37.7, 31.8), (-38.053553391, 31.946446609), (-38.2, 32.3))
            Line((-38.2, 32.3), (-38.2, 36))
            ThreePointArc((-38.2, 36), (-37.555634919, 37.555634919), (-36, 38.2))
        make_face(mode=Mode.SUBTRACT)
        with BuildLine():
            Line((-1.8, 36), (-1.8, 32.3))
            ThreePointArc((-1.8, 32.3), (-1.946446609, 31.946446609), (-2.3, 31.8))
            Line((-2.3, 31.8), (-7.7, 31.8))
            ThreePointArc((-7.7, 31.8), (-8.053553391, 31.946446609), (-8.2, 32.3))
            Line((-8.2, 32.3), (-8.2, 37.7))
            ThreePointArc((-8.2, 37.7), (-8.053553391, 38.053553391), (-7.7, 38.2))
            Line((-7.7, 38.2), (-4, 38.2))
            ThreePointArc((-4, 38.2), (-2.444365081, 37.555634919), (-1.8, 36))
        make_face(mode=Mode.SUBTRACT)
    extrude(amount=-BOSS_EXTRU_1_DEPTH)


solid = part.part
